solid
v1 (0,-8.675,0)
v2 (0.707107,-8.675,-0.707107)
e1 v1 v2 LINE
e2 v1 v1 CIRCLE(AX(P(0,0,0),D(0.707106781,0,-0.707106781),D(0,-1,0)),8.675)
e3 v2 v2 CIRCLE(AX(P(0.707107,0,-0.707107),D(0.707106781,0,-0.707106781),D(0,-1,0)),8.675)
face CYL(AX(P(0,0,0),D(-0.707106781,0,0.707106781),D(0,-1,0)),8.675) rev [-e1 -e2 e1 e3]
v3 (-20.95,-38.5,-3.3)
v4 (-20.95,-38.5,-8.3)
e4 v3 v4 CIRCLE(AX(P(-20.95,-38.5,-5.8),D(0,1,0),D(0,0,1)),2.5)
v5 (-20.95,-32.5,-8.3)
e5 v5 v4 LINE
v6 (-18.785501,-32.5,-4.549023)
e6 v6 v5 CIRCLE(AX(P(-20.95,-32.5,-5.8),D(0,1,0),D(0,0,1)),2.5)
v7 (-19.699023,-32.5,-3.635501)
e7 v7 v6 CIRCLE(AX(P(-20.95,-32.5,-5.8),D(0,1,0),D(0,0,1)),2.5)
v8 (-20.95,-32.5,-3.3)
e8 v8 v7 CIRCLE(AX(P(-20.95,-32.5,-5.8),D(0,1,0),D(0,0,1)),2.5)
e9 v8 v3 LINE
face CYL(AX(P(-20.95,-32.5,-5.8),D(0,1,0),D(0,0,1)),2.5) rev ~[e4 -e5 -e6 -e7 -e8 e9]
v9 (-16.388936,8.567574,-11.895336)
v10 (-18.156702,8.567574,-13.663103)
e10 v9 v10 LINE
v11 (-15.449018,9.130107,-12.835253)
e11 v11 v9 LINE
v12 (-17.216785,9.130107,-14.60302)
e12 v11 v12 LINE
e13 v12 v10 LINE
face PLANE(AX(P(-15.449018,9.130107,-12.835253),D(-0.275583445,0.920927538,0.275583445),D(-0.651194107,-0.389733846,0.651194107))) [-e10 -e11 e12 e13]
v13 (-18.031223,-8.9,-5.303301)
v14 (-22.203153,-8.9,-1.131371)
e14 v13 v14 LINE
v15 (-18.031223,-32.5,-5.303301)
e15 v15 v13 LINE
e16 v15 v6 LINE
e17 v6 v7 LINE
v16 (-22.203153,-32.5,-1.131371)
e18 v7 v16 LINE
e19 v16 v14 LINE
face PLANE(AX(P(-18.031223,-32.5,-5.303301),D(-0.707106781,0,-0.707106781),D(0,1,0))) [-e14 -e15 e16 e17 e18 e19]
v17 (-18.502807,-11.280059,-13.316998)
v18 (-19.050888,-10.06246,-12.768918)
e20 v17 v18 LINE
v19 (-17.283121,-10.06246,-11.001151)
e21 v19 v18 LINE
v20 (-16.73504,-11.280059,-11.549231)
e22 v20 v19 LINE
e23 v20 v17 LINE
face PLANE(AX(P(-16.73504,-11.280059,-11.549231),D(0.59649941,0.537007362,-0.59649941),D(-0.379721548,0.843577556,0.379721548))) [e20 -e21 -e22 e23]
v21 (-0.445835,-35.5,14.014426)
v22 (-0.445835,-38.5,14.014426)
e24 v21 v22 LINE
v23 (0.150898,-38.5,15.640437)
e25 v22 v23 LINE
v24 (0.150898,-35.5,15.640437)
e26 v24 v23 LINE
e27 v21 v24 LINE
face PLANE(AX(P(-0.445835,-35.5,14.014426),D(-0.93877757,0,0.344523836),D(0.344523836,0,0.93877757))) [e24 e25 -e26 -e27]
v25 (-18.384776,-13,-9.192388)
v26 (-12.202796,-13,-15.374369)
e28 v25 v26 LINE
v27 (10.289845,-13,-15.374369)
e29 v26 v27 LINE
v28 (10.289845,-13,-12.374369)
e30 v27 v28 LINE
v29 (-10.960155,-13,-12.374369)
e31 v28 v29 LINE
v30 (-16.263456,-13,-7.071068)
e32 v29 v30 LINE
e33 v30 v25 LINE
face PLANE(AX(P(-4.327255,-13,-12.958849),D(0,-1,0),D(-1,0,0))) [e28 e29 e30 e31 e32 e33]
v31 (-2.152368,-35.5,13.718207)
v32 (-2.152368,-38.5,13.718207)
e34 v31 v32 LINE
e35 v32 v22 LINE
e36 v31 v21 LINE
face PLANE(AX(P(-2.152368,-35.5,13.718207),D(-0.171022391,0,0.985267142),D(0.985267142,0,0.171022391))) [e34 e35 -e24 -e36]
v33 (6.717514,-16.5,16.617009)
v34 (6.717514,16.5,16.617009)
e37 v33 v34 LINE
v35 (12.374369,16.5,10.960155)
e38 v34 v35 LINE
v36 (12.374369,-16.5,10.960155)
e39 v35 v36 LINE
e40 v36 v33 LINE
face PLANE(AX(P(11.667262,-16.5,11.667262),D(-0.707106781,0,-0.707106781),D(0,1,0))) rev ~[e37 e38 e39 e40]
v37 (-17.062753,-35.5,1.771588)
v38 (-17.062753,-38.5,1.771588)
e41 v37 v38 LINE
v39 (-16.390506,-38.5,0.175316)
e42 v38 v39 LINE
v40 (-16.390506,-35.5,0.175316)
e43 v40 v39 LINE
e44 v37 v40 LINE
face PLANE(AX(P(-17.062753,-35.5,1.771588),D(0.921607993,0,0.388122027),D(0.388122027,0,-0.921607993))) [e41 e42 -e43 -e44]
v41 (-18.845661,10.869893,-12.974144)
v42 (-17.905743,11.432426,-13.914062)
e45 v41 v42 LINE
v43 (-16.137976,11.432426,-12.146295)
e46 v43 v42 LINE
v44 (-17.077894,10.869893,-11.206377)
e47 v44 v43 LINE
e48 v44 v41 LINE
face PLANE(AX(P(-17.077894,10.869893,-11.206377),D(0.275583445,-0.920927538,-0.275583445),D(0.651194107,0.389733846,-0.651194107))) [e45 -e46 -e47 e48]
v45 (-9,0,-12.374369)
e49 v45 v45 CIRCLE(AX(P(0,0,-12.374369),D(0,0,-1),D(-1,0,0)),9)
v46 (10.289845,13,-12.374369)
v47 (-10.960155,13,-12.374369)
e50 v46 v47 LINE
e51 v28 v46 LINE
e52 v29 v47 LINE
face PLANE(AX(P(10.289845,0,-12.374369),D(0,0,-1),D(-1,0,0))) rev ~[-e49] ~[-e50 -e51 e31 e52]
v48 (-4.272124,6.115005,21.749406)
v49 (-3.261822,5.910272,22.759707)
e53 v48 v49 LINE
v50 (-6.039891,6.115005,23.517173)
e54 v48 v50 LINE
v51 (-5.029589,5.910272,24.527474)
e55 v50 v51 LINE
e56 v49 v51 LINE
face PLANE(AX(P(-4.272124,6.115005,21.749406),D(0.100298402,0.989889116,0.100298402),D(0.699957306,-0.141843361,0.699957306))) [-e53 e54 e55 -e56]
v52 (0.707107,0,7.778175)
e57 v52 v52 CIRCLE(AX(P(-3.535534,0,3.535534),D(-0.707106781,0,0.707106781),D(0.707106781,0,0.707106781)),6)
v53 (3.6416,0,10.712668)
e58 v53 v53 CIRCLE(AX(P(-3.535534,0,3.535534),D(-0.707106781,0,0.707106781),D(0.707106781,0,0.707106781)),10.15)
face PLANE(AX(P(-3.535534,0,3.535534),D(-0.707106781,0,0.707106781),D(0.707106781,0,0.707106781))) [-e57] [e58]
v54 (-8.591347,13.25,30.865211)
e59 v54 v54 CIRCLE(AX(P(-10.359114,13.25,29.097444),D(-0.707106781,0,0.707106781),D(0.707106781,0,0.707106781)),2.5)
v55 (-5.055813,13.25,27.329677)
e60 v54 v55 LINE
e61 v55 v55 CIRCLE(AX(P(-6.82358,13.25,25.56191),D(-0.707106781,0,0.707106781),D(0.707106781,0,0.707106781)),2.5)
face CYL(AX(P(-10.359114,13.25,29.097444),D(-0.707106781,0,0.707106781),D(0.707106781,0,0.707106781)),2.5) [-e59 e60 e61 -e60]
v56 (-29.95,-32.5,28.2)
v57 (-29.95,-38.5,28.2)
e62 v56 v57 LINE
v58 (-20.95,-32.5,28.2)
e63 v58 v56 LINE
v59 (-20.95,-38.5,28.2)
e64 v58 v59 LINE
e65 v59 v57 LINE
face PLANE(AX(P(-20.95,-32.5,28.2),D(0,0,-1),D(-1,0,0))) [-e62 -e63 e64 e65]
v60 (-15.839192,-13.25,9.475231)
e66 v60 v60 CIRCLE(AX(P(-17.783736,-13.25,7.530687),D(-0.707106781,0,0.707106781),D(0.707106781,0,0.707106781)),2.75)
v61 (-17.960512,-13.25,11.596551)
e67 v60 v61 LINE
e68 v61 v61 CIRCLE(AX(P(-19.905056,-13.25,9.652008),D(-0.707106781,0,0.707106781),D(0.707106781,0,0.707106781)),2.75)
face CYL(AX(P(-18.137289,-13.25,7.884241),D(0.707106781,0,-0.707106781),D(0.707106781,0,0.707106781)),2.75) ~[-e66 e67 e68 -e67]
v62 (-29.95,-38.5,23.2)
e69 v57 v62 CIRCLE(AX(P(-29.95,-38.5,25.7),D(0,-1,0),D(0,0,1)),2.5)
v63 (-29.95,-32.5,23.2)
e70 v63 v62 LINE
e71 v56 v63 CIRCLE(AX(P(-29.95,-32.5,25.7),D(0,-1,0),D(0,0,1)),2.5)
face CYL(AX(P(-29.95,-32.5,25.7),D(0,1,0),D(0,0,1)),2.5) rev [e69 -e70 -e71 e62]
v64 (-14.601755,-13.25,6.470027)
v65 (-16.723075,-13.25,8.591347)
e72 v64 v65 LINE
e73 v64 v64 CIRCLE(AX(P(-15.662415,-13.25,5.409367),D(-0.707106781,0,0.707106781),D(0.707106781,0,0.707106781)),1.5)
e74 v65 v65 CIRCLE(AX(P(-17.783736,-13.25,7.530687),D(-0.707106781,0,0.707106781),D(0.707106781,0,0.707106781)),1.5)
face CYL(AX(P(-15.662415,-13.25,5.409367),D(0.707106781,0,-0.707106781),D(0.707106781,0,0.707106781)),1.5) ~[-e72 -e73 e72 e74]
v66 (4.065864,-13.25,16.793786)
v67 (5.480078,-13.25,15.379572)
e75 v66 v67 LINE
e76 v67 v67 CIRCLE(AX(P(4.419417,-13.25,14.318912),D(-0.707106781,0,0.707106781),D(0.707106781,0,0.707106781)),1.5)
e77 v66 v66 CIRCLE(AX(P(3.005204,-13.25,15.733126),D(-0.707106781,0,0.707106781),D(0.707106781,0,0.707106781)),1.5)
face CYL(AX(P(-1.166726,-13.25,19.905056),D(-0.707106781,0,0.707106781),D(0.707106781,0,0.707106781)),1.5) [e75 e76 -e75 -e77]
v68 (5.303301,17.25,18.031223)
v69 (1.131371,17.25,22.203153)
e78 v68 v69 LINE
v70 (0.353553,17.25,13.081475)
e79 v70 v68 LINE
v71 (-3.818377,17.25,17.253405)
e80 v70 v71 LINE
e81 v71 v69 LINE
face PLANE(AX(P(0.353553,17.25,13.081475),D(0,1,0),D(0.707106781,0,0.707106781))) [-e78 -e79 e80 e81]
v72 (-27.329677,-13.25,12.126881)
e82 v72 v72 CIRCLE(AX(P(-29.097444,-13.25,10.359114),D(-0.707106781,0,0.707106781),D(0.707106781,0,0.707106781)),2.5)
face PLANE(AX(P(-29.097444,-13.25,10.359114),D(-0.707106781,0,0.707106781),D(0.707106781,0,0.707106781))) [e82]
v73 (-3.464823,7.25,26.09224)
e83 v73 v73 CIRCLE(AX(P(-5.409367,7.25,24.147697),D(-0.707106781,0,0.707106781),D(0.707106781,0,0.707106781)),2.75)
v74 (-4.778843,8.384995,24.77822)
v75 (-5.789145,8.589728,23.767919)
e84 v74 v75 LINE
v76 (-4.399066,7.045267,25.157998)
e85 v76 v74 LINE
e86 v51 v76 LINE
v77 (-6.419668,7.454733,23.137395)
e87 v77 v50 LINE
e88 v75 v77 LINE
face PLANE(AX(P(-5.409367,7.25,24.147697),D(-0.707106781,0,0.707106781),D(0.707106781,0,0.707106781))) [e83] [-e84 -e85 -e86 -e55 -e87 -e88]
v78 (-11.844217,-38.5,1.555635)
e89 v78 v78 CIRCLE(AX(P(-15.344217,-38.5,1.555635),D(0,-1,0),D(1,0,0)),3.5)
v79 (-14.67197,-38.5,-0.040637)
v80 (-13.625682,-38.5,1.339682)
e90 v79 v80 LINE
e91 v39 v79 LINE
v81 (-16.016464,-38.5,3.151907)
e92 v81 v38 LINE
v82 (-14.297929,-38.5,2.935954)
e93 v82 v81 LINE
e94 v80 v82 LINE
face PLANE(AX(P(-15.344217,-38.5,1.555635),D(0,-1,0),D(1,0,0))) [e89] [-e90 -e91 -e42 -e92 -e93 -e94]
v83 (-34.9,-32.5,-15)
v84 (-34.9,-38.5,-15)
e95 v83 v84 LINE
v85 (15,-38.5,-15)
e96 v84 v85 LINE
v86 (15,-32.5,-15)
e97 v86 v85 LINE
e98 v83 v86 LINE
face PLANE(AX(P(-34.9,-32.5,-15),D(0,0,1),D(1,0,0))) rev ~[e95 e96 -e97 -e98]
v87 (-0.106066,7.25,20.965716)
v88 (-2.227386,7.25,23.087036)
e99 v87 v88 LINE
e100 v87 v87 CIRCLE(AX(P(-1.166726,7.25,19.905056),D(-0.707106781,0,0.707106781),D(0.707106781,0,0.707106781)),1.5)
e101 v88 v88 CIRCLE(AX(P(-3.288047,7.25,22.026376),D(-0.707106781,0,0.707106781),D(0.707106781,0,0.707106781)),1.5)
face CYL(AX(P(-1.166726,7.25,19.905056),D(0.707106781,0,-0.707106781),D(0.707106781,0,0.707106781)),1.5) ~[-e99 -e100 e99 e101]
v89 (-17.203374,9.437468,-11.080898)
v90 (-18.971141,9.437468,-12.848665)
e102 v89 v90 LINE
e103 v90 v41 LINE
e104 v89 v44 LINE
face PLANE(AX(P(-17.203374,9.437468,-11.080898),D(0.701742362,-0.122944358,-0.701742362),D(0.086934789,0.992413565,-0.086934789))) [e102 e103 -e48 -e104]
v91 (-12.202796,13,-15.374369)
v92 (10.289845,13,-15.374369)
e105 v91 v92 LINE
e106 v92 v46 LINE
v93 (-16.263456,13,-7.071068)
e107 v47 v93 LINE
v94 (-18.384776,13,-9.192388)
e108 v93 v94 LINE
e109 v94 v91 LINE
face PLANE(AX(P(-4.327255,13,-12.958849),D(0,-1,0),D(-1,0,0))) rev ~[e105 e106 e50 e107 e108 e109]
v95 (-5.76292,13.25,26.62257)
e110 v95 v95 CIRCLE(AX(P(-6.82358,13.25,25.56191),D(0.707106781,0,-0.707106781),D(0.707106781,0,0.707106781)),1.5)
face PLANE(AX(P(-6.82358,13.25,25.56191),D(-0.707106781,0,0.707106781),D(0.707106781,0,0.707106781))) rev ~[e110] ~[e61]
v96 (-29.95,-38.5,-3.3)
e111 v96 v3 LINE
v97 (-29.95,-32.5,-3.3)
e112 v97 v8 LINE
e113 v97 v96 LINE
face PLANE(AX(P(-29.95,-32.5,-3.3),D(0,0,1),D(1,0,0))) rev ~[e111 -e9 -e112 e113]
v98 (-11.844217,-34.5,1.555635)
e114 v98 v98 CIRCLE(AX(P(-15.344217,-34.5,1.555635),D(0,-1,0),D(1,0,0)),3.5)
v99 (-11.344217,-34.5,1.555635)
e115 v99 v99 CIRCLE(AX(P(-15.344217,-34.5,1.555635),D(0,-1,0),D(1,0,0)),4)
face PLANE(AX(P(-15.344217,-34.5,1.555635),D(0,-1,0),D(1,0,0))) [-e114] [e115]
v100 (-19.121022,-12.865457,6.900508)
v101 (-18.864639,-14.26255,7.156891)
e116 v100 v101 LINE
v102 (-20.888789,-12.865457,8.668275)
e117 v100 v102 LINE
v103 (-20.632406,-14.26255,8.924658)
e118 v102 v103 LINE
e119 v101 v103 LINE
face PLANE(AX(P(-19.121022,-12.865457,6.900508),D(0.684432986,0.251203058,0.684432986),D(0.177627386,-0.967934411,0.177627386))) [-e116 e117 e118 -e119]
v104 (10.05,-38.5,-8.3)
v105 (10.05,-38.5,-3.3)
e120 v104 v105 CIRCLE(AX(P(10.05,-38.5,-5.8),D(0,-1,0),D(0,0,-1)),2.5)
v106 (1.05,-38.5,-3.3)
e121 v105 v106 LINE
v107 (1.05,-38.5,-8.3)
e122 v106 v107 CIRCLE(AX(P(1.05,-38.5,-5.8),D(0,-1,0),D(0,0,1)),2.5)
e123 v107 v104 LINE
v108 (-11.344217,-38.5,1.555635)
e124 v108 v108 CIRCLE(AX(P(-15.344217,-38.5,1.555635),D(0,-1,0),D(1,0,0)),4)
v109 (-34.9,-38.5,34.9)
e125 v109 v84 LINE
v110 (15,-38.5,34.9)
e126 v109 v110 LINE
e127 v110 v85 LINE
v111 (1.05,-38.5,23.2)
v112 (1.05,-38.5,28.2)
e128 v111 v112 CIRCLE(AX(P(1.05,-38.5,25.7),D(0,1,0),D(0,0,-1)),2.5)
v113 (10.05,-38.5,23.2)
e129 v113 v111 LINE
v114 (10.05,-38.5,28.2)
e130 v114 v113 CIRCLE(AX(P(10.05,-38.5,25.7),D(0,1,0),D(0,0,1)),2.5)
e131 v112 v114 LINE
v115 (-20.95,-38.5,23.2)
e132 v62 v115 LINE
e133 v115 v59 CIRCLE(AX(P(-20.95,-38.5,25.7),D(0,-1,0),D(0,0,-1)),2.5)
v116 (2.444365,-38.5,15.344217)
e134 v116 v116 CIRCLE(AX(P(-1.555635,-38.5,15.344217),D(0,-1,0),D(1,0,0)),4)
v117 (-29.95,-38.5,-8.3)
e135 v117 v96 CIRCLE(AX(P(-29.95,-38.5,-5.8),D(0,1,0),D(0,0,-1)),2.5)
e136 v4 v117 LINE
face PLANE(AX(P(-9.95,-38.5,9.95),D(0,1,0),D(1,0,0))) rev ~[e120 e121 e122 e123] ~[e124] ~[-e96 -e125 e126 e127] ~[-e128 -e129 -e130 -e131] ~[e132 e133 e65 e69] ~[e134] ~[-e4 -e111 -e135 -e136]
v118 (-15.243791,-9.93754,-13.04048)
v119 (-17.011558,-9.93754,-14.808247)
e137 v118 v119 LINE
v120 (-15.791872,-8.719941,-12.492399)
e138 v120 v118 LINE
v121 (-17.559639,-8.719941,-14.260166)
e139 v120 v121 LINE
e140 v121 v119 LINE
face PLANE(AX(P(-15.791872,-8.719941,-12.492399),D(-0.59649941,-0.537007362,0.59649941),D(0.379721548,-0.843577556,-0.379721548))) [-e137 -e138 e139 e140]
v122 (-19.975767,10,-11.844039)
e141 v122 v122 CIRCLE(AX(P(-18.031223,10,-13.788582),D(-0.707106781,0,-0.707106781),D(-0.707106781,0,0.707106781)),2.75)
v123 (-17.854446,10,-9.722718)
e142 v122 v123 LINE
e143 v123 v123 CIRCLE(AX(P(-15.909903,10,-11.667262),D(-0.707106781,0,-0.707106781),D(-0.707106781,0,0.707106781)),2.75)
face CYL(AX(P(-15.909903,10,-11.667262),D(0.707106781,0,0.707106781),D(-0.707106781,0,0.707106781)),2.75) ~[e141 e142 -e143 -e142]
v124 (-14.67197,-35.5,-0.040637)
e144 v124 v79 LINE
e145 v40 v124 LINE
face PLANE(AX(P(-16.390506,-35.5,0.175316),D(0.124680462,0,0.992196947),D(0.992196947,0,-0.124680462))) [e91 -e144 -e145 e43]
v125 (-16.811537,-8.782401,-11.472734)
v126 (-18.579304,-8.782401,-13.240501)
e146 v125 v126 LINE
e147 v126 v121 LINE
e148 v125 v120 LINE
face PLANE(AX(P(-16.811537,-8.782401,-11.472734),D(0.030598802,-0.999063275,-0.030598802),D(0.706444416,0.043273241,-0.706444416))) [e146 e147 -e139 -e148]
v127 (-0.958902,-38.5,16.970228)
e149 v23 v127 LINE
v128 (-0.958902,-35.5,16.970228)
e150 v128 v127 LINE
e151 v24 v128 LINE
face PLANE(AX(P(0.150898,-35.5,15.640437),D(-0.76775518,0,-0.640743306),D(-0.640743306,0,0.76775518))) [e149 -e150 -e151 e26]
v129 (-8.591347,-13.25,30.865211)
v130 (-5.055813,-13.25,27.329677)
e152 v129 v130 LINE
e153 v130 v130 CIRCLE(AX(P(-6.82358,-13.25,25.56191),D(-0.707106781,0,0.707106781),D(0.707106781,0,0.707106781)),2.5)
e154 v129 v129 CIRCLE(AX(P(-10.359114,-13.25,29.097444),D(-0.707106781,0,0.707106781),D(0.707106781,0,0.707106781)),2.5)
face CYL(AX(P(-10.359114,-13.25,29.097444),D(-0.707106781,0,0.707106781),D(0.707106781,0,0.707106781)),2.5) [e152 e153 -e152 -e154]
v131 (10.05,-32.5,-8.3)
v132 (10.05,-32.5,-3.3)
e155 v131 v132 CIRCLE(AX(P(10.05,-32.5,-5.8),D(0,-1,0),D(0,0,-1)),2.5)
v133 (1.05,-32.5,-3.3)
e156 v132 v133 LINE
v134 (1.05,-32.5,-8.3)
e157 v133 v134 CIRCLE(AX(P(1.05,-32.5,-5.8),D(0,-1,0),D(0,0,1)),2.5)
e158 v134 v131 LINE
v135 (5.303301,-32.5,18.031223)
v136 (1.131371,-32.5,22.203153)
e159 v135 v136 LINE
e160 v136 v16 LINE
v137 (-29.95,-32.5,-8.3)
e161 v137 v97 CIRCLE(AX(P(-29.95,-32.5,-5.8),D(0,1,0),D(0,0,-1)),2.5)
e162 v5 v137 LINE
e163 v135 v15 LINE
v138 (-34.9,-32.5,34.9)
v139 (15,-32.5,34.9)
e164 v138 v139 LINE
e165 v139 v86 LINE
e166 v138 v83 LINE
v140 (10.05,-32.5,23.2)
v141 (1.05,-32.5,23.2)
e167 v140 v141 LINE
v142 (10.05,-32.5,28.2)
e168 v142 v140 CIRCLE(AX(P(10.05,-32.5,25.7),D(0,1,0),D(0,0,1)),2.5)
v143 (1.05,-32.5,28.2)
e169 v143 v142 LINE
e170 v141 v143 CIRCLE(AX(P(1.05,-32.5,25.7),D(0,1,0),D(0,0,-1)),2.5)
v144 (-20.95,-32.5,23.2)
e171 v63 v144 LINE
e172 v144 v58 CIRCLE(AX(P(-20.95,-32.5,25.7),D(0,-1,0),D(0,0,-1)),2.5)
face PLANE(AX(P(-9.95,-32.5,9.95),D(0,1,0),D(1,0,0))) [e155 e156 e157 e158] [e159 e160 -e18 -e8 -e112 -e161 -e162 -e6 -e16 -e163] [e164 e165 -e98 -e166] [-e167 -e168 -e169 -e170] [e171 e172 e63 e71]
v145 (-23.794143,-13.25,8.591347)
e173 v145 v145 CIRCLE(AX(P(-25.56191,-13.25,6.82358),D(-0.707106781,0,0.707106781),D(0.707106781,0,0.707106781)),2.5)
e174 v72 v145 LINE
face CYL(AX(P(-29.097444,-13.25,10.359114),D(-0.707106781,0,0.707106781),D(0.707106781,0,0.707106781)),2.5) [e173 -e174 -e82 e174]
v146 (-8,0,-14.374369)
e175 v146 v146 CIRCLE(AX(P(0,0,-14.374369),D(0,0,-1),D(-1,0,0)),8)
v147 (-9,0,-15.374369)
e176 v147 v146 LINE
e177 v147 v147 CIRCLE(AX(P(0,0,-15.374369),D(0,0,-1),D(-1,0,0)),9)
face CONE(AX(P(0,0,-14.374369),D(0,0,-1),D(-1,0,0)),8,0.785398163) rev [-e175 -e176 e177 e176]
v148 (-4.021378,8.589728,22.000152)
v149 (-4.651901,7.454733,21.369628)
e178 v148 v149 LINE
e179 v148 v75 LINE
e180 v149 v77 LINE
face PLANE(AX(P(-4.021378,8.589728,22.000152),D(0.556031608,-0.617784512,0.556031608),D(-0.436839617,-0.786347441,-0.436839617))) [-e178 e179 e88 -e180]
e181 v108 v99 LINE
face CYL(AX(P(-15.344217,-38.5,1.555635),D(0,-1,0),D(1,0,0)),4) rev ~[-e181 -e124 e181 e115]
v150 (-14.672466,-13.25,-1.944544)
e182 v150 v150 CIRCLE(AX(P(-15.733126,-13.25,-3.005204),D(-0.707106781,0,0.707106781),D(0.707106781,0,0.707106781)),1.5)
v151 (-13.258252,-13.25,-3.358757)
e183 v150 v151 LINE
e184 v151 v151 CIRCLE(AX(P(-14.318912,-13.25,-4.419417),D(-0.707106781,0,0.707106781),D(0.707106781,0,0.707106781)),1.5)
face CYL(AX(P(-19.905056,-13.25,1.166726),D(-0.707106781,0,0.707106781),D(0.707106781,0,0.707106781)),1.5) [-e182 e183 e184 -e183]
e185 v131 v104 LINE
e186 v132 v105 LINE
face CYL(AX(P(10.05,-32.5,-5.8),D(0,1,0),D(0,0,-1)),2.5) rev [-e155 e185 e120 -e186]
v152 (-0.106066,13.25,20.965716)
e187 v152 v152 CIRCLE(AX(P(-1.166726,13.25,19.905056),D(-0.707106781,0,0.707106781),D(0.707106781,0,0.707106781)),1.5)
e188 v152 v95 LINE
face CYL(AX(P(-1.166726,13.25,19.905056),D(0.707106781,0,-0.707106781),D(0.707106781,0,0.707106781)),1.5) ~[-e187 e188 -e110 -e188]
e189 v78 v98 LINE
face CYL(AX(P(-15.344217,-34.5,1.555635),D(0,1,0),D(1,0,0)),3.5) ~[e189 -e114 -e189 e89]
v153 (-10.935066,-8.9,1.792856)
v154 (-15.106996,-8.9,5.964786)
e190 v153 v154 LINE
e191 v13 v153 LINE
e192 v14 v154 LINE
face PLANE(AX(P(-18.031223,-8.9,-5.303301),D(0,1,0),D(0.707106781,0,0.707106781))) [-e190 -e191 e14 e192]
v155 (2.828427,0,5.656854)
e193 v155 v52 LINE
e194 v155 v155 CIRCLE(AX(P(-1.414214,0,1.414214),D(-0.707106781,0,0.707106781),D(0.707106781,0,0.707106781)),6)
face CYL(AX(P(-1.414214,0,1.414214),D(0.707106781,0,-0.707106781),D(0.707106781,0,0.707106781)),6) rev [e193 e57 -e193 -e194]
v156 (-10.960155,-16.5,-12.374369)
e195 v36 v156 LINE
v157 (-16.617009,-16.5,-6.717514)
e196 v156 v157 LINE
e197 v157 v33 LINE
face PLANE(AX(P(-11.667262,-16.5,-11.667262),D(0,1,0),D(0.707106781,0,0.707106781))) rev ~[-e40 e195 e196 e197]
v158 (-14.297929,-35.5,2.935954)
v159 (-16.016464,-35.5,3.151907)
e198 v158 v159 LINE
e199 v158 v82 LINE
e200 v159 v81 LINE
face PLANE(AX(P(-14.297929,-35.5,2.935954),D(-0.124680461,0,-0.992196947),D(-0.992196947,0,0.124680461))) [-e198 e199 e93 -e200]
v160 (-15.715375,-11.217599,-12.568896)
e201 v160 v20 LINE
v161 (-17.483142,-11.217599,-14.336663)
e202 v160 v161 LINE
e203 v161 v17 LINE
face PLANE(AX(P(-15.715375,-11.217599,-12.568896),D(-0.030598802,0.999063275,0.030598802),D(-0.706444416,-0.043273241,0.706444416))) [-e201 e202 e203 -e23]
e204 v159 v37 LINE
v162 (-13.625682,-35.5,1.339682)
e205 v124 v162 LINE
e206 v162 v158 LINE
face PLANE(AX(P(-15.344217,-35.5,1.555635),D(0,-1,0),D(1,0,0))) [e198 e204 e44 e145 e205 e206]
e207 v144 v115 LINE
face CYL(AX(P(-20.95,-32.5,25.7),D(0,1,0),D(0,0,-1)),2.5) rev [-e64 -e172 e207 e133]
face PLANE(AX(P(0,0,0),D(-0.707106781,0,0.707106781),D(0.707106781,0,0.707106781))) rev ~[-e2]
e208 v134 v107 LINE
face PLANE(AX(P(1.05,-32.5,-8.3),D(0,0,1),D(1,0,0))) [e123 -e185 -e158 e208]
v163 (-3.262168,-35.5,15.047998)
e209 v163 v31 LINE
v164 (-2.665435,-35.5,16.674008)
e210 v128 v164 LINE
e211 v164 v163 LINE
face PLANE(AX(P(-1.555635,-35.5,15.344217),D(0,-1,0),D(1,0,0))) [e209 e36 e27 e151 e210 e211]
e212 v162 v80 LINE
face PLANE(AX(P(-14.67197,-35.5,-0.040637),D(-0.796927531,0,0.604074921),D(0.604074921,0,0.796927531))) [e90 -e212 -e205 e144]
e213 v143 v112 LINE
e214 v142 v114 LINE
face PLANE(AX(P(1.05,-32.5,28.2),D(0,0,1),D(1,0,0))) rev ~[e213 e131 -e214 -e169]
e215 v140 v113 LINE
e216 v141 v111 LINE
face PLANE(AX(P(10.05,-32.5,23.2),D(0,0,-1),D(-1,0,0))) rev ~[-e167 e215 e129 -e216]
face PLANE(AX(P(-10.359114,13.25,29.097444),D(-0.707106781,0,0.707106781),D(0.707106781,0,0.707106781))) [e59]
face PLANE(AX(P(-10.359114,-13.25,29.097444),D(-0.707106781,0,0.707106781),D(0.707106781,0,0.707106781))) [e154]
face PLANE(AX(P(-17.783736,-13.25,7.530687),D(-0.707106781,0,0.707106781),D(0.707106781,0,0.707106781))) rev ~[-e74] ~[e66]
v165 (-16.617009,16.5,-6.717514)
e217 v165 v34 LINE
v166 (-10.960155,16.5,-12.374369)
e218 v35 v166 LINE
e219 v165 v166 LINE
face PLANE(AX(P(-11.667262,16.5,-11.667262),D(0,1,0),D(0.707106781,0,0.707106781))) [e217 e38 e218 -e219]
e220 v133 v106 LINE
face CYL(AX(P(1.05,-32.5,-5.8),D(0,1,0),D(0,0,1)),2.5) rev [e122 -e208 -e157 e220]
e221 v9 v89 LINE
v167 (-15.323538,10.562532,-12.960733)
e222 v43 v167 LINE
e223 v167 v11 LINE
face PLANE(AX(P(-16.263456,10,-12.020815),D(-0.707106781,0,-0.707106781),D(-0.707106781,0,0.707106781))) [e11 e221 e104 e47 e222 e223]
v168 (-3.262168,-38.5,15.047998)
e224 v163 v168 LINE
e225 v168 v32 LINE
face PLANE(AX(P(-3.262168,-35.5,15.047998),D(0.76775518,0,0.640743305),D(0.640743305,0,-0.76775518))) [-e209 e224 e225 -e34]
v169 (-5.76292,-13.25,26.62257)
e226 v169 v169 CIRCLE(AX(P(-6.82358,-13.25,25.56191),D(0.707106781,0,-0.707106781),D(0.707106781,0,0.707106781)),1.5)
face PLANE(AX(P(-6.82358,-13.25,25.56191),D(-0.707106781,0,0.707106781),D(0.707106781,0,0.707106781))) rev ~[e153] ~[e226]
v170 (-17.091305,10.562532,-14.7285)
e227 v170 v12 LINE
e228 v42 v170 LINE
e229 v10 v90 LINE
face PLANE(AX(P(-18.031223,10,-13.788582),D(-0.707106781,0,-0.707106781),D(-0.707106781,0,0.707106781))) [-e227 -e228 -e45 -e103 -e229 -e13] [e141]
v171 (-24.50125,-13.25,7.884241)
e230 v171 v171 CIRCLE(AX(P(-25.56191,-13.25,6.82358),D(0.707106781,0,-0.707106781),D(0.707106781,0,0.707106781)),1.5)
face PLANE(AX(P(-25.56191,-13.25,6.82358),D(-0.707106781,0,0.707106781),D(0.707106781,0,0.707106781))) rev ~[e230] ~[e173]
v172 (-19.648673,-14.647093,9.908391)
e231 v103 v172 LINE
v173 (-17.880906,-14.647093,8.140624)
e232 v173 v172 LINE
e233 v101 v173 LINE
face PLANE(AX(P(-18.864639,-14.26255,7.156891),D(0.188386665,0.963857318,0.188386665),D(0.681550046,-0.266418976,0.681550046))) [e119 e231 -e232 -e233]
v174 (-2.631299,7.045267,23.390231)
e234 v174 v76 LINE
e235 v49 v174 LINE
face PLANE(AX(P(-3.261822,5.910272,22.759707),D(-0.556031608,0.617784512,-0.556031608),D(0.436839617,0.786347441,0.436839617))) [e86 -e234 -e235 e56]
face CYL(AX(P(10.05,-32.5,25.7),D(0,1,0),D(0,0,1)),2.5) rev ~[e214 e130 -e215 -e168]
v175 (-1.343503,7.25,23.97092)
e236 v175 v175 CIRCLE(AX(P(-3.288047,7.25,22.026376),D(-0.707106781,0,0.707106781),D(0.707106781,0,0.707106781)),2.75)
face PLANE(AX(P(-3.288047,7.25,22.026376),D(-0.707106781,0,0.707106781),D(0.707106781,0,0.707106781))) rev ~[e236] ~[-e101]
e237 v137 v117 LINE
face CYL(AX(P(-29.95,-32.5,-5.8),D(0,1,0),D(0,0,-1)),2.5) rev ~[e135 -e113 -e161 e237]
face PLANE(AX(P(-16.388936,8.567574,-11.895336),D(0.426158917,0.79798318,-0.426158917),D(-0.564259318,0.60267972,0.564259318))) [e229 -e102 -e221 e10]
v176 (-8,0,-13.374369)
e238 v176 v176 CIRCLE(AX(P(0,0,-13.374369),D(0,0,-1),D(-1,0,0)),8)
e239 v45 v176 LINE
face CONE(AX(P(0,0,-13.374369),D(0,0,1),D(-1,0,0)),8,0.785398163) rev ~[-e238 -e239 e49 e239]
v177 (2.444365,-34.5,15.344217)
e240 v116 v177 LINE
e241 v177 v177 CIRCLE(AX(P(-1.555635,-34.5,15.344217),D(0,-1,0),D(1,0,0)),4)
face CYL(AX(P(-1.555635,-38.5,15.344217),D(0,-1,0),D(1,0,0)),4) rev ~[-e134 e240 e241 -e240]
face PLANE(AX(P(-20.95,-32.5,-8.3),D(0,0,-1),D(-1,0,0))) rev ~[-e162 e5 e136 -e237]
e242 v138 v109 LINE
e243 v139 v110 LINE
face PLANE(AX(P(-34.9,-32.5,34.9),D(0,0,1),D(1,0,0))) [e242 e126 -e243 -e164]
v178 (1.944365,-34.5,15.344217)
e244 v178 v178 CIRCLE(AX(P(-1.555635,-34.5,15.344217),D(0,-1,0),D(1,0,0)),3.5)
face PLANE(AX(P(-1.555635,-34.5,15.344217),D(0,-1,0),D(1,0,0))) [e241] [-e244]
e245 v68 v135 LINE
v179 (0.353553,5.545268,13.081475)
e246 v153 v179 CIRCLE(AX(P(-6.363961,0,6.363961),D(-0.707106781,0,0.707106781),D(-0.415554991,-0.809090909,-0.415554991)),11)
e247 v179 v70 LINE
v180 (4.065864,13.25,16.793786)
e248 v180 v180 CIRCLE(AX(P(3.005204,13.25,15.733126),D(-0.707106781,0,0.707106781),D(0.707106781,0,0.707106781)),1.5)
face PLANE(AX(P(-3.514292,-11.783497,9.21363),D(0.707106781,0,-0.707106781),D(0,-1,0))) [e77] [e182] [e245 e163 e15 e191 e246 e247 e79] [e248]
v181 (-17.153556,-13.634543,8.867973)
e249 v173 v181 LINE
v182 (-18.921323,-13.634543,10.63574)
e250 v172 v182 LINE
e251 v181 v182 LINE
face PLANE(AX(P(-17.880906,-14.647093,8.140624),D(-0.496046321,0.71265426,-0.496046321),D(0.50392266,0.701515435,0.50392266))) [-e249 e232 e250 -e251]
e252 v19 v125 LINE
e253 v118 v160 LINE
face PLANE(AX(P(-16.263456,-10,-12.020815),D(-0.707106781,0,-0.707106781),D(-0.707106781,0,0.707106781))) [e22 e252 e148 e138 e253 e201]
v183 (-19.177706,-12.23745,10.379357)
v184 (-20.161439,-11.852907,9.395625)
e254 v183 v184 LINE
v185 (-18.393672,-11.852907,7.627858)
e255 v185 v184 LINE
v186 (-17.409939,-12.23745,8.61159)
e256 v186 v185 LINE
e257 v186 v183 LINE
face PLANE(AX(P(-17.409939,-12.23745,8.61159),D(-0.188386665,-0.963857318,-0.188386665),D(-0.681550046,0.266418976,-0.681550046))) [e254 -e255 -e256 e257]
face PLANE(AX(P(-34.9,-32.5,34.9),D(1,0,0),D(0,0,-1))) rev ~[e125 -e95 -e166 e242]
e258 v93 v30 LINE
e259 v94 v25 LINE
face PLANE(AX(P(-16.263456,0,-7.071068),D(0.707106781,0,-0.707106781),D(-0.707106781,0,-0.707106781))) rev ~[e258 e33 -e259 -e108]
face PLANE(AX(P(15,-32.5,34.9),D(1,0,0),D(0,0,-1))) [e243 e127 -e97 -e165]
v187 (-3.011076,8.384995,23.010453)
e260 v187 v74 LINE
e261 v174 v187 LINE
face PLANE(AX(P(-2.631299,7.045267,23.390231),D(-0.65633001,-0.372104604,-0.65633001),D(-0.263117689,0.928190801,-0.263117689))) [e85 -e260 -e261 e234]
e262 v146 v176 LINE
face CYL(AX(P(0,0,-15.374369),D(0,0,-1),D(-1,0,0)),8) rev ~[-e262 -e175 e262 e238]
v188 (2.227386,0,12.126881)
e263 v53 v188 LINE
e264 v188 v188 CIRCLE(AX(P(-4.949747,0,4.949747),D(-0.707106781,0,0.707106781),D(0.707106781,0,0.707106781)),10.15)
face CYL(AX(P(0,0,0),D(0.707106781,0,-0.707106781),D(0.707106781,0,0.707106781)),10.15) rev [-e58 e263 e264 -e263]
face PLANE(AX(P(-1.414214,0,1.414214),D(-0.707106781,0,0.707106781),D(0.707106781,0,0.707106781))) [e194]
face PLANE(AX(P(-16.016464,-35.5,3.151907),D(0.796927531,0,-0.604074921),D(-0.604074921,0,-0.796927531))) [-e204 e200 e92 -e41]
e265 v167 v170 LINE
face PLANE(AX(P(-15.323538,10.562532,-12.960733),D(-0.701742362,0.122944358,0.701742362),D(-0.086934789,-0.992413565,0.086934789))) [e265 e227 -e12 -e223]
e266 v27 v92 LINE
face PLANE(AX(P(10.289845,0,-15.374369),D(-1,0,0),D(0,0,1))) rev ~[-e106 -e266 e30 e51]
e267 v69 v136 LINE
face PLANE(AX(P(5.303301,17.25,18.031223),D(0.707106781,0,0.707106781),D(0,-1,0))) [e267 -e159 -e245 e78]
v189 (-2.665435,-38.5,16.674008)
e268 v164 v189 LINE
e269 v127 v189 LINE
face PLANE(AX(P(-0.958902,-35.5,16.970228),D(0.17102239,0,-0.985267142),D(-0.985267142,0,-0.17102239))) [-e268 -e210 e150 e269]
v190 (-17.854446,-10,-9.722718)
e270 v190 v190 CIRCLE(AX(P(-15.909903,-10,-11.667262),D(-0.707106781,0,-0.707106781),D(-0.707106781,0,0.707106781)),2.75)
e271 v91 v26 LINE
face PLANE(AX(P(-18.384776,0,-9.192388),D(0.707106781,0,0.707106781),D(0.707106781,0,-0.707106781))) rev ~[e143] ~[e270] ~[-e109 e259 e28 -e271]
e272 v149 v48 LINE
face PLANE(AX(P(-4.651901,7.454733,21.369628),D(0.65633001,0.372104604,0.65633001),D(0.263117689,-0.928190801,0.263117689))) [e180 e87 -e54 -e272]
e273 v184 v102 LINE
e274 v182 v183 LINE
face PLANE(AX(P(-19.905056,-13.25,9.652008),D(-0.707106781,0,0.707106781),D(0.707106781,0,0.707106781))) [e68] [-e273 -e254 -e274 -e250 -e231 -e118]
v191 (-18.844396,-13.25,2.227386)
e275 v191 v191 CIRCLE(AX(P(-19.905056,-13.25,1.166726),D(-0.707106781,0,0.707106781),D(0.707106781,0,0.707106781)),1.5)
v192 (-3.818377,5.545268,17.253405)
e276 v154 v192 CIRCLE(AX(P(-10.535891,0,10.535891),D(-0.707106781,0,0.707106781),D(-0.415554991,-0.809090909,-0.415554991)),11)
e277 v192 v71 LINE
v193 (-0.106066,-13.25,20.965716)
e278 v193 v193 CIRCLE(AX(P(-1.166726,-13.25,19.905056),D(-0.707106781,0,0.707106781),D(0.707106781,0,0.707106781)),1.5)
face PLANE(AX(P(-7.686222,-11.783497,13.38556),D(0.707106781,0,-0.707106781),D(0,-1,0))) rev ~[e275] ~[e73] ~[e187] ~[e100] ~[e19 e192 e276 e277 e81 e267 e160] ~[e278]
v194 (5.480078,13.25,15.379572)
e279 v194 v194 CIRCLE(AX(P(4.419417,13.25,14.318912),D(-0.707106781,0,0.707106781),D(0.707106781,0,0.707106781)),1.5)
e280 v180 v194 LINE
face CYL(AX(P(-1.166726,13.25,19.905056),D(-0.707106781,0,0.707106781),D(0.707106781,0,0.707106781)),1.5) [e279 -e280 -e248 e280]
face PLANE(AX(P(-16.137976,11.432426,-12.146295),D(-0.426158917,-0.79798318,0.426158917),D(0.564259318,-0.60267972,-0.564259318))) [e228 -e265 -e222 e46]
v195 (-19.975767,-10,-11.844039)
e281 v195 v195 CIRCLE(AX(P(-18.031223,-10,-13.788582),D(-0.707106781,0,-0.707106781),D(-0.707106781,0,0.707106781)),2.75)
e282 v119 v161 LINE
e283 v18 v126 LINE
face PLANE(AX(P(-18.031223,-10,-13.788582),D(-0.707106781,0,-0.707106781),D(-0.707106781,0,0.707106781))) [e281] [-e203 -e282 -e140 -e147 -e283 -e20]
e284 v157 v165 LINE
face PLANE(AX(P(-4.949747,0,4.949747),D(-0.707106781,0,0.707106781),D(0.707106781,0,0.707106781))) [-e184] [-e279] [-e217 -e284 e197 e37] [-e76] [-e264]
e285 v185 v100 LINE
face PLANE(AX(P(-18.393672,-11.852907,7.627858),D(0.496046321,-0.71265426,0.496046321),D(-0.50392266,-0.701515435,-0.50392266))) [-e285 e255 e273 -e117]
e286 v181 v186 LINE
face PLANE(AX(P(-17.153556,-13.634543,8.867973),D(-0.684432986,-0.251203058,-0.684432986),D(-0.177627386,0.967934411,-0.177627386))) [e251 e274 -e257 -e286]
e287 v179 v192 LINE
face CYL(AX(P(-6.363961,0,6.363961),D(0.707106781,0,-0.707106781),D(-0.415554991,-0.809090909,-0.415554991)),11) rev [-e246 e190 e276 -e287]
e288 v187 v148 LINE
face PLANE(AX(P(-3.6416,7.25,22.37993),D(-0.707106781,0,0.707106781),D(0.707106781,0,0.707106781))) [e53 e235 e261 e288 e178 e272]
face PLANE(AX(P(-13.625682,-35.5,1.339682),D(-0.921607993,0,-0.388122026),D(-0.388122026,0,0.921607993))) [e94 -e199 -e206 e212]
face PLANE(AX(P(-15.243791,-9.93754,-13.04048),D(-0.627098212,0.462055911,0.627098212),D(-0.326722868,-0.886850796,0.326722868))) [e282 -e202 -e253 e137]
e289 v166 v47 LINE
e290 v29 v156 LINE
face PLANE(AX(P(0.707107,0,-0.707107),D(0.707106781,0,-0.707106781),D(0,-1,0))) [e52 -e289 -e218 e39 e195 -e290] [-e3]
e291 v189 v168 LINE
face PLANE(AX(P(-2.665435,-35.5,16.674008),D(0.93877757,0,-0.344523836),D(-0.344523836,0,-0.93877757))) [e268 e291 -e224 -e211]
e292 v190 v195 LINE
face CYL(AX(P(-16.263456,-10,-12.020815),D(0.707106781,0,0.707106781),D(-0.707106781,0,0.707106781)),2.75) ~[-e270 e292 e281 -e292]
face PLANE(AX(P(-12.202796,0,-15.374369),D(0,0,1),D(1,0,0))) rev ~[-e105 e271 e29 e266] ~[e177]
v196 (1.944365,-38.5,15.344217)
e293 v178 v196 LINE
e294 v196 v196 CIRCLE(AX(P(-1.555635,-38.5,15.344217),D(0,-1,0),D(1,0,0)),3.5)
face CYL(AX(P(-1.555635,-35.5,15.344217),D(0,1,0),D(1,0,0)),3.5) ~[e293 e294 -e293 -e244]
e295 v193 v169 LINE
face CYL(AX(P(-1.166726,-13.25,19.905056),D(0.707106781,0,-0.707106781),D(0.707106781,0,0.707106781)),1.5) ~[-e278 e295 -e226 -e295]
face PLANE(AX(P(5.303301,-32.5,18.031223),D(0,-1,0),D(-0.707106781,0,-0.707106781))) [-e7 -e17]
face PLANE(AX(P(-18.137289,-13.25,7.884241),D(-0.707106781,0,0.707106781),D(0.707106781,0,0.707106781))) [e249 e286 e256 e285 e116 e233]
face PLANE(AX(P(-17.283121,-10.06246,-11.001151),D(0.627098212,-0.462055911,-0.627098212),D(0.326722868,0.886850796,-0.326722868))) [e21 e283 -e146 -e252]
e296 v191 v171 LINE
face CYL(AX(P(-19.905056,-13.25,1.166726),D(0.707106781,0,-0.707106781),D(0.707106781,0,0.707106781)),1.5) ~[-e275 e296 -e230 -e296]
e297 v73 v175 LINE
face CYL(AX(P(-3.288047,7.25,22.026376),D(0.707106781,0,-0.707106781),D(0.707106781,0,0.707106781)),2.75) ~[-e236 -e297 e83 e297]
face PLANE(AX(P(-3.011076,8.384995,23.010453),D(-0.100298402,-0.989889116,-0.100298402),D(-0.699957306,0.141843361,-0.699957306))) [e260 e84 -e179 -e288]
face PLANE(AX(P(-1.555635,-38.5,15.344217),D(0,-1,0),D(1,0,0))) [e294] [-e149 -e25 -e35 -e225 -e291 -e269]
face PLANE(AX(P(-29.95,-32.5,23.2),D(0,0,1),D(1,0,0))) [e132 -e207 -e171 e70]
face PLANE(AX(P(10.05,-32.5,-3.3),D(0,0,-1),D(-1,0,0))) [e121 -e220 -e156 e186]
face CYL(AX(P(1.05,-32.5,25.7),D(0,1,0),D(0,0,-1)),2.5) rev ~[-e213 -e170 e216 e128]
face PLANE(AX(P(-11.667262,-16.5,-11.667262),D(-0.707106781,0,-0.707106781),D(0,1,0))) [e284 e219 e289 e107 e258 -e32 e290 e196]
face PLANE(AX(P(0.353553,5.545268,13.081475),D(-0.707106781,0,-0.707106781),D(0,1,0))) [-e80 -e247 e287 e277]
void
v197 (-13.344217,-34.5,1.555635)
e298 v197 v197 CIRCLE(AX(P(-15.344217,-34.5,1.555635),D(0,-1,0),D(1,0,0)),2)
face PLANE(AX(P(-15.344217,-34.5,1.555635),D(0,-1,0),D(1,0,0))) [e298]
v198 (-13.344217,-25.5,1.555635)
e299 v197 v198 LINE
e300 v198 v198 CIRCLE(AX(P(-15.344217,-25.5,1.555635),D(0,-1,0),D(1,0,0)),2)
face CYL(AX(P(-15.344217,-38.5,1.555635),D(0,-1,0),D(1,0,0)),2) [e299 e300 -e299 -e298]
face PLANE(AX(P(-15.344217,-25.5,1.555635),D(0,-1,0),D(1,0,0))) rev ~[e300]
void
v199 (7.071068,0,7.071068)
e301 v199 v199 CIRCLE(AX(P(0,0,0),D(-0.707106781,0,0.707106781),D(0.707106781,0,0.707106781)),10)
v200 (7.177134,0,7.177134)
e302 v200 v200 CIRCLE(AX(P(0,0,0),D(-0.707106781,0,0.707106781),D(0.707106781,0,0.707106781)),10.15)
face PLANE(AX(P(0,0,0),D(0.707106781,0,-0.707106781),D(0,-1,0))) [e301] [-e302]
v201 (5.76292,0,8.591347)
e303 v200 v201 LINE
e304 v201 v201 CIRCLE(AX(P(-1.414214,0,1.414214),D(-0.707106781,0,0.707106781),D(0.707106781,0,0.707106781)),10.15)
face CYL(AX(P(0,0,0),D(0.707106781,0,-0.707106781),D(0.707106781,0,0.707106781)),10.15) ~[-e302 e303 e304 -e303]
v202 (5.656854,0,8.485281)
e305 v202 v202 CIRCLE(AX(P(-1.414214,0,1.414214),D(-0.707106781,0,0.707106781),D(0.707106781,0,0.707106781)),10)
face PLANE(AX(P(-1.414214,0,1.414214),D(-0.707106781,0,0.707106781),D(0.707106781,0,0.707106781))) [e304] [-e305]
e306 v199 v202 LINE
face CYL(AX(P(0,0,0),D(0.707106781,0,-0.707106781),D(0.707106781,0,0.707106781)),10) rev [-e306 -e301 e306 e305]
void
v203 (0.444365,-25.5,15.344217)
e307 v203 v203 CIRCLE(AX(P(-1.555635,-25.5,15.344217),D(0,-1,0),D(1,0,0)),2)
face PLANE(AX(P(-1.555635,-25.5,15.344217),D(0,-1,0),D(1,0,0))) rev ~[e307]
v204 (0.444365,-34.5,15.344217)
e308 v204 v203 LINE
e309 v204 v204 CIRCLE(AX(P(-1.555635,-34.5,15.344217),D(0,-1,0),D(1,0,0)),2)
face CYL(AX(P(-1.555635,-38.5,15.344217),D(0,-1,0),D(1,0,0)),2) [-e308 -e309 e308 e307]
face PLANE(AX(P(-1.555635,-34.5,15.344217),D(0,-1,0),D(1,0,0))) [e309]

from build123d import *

# Parameters (mm, degrees)
SKETCH1_W                = 49.9
SKETCH1_H                = 49.9
BOSS_EXTRUDE1_DEPTH      = 6
BOSS_EXTRUDE2_DEPTH      = 5.9
SKETCH3_R                = 1.5
BOSS_EXTRUDE3_DEPTH      = 13
BOSS_EXTRUDE3_DEPTH_BACK = 14.9
SKETCH4_R                = 2.5
BOSS_EXTRUDE4_DEPTH      = 5
SKETCH5_R                = 1.5
BOSS_EXTRUDE5_DEPTH      = 3
SKETCH6_R                = 2.75
BOSS_EXTRUDE6_DEPTH      = 0.5
SKETCH7_R                = 2.75
BOSS_EXTRUDE7_DEPTH      = 2.5
SKETCH8_W                = 33
SKETCH8_H                = 33
SKETCH8_R                = 8.675
BOSS_EXTRUDE8_DEPTH      = 1
SKETCH9_W                = 33
SKETCH9_H                = 33
SKETCH9_R                = 10.15
BOSS_EXTRUDE9_DEPTH      = 7
SKETCH10_R               = 10
BOSS_EXTRUDE10_DEPTH     = 2
SKETCH11_R               = 10.15
SKETCH11_R_2             = 6
BOSS_EXTRUDE11_DEPTH     = 3
SKETCH12_R               = 2
CUT_EXTRUDE1_DEPTH       = 13
SKETCH13_R               = 4
CUT_EXTRUDE2_DEPTH       = 4
SKETCH14_R               = 3.5
BOSS_EXTRUDE12_DEPTH     = 1
SKETCH15_R               = 3.5
BOSS_EXTRUDE13_DEPTH     = 3
BOSS_EXTRUDE14_DEPTH     = 13
SKETCH17_R               = 8
CUT_EXTRUDE3_DEPTH       = 3
CHAMFER1_SIZE            = 1
SKETCH18_R               = 2.75
BOSS_EXTRUDE15_DEPTH     = 0.5
SKETCH19_R               = 2.75
BOSS_EXTRUDE16_DEPTH     = 2.5


with BuildPart() as part:
    # Sketch1 → Boss-Extrude1 (new body)
    with BuildSketch(Plane(origin=(0, -32.5, 0), x_dir=(1, 0, 0), z_dir=(0, 1, 0))):
        with Locations((-9.95, -9.95)):
            Rectangle(SKETCH1_W, SKETCH1_H)
        with BuildLine():
            Line((1.05, 8.3), (10.05, 8.3))
            ThreePointArc((10.05, 8.3), (12.55, 5.8), (10.05, 3.3))
            Line((10.05, 3.3), (1.05, 3.3))
            ThreePointArc((1.05, 3.3), (-1.45, 5.8), (1.05, 8.3))
        make_face(mode=Mode.SUBTRACT)
        with BuildLine():
            Line((-20.95, 8.3), (-29.95, 8.3))
            ThreePointArc((-29.95, 8.3), (-32.45, 5.8), (-29.95, 3.3))
            Line((-29.95, 3.3), (-20.95, 3.3))
            ThreePointArc((-20.95, 3.3), (-18.45, 5.8), (-20.95, 8.3))
        make_face(mode=Mode.SUBTRACT)
        with BuildLine():
            Line((-20.95, -28.2), (-29.95, -28.2))
            ThreePointArc((-29.95, -28.2), (-32.45, -25.7), (-29.95, -23.2))
            Line((-29.95, -23.2), (-20.95, -23.2))
            ThreePointArc((-20.95, -23.2), (-18.45, -25.7), (-20.95, -28.2))
        make_face(mode=Mode.SUBTRACT)
        with BuildLine():
            Line((1.05, -28.2), (10.05, -28.2))
            ThreePointArc((10.05, -28.2), (12.55, -25.7), (10.05, -23.2))
            Line((10.05, -23.2), (1.05, -23.2))
            ThreePointArc((1.05, -23.2), (-1.45, -25.7), (1.05, -28.2))
        make_face(mode=Mode.SUBTRACT)
    extrude(amount=-BOSS_EXTRUDE1_DEPTH)

    # Sketch2 → Boss-Extrude2 (add)
    with BuildSketch(Plane(origin=(-6.363961031, 0, 6.363961031), x_dir=(0, -1, 0), z_dir=(0.707106781, 0, -0.707106781))):
        with BuildLine():
            Line((-5.545268253, -9.5), (-17.25, -9.5))
            Line((-17.25, -9.5), (-17.25, -16.5))
            Line((-17.25, -16.5), (32.5, -16.5))
            Line((32.5, -16.5), (32.5, 16.5))
            Line((32.5, 16.5), (8.9, 16.5))
            Line((8.9, 16.5), (8.9, 6.464518544))
            ThreePointArc((8.9, 6.464518544), (8.156593612, -7.380378083), (-5.545268253, -9.5))
        make_face()
    extrude(amount=-BOSS_EXTRUDE2_DEPTH)

    # Sketch3 → Boss-Extrude3 (add, two sides)
    with BuildSketch(Plane(origin=(-10.53589104, 0, 10.53589104), x_dir=(0.707106781, 0, 0.707106781), z_dir=(-0.707106781, 0, 0.707106781))) as boss_extrude3_sk:
        with Locations((13.25, 13.25)):
            Circle(SKETCH3_R)
        with Locations((13.25, -13.25)):
            Circle(SKETCH3_R)
        with Locations((-13.25, -13.25)):
            Circle(SKETCH3_R)
    extrude(amount=BOSS_EXTRUDE3_DEPTH)
    extrude(boss_extrude3_sk.sketch, amount=-BOSS_EXTRUDE3_DEPTH_BACK)

    # Sketch4 → Boss-Extrude4 (add)
    with BuildSketch(Plane(origin=(-19.728279195, 0, 19.728279195), x_dir=(0.707106781, 0, 0.707106781), z_dir=(-0.707106781, 0, 0.707106781))):
        with Locations((13.25, 13.25)):
            Circle(SKETCH4_R)
        with Locations((13.25, -13.25)):
            Circle(SKETCH4_R)
        with Locations((-13.25, -13.25)):
            Circle(SKETCH4_R)
    extrude(amount=-BOSS_EXTRUDE4_DEPTH)

    # Sketch5 → Boss-Extrude5 (add)
    with BuildSketch(Plane(origin=(-10.53589104, 0, 10.53589104), x_dir=(0.707106781, 0, 0.707106781), z_dir=(-0.707106781, 0, 0.707106781))):
        with Locations((-7.25, -13.25)):
            Circle(SKETCH5_R)
        with Locations((13.25, 7.25)):
            Circle(SKETCH5_R)
    extrude(amount=BOSS_EXTRUDE5_DEPTH)

    # Sketch6 → Boss-Extrude6 (add)
    with BuildSketch(Plane(origin=(-12.657211383, 0, 12.657211383), x_dir=(0.707106781, 0, 0.707106781), z_dir=(-0.707106781, 0, 0.707106781))):
        with Locations((13.25, 7.25)):
            Circle(SKETCH6_R)
        with Locations((-7.25, -13.25)):
            Circle(SKETCH6_R)
    extrude(amount=BOSS_EXTRUDE6_DEPTH)

    # Sketch7 → Boss-Extrude7 (add)
    with BuildSketch(Plane(origin=(-13.010764774, 0, 13.010764774), x_dir=(0.707106781, 0, 0.707106781), z_dir=(-0.707106781, 0, 0.707106781))):
        with Locations((-7.25, -13.25)):
            Circle(SKETCH7_R)
        Polygon((-6.221372178, -12.237449687), (-7.612580383, -11.852907018), (-8.641208205, -12.865457332), (-8.278627822, -14.262550313), (-6.887419617, -14.647092982), (-5.858791795, -13.634542668), align=None, mode=Mode.SUBTRACT)
        with Locations((13.25, 7.25)):
            Circle(SKETCH7_R)
        Polygon((13.787086733, 5.910271978), (14.678781868, 7.045266744), (14.141695135, 8.384994766), (12.712913267, 8.589728022), (11.821218132, 7.454733256), (12.358304865, 6.115005234), align=None, mode=Mode.SUBTRACT)
    extrude(amount=BOSS_EXTRUDE7_DEPTH)

    # Sketch8 → Boss-Extrude8 (add)
    with BuildSketch(Plane(origin=(0, 0, 0), x_dir=(0, -1, 0), z_dir=(0.707106781, 0, -0.707106781))):
        Rectangle(SKETCH8_W, SKETCH8_H)
        Circle(SKETCH8_R, mode=Mode.SUBTRACT)
    extrude(amount=BOSS_EXTRUDE8_DEPTH)

    # Sketch9 → Boss-Extrude9 (add)
    with BuildSketch(Plane(origin=(0, 0, 0), x_dir=(0.707106781, 0, 0.707106781), z_dir=(-0.707106781, 0, 0.707106781))):
        Rectangle(SKETCH9_W, SKETCH9_H)
        Circle(SKETCH9_R, mode=Mode.SUBTRACT)
    extrude(amount=BOSS_EXTRUDE9_DEPTH)

    # Sketch10 → Boss-Extrude10 (add)
    with BuildSketch(Plane(origin=(0, 0, 0), x_dir=(0.707106781, 0, 0.707106781), z_dir=(-0.707106781, 0, 0.707106781))):
        Circle(SKETCH10_R)
    extrude(amount=BOSS_EXTRUDE10_DEPTH)

    # Sketch11 → Boss-Extrude11 (add)
    with BuildSketch(Plane(origin=(-1.414213562, 0, 1.414213562), x_dir=(0.707106781, 0, 0.707106781), z_dir=(-0.707106781, 0, 0.707106781))):
        Circle(SKETCH11_R)
        Circle(SKETCH11_R_2, mode=Mode.SUBTRACT)
    extrude(amount=BOSS_EXTRUDE11_DEPTH)

    # Sketch12 → Cut-Extrude1 (cut)
    with BuildSketch(Plane.XZ.offset(38.5)):
        with Locations((-15.344217152, 1.555634919)):
            Circle(SKETCH12_R)
        with Locations((-1.555634919, 15.344217152)):
            Circle(SKETCH12_R)
    extrude(amount=-CUT_EXTRUDE1_DEPTH, mode=Mode.SUBTRACT)

    # Sketch13 → Cut-Extrude2 (cut)
    with BuildSketch(Plane.XZ.offset(38.5)):
        with Locations((-15.344217152, 1.555634919)):
            Circle(SKETCH13_R)
        with Locations((-1.555634919, 15.344217152)):
            Circle(SKETCH13_R)
    extrude(amount=-CUT_EXTRUDE2_DEPTH, mode=Mode.SUBTRACT)

    # Sketch14 → Boss-Extrude12 (add)
    with BuildSketch(Plane.XZ.offset(34.5)):
        with Locations((-15.344217152, 1.555634919)):
            Circle(SKETCH14_R)
        with Locations((-1.555634919, 15.344217152)):
            Circle(SKETCH14_R)
    extrude(amount=BOSS_EXTRUDE12_DEPTH)

    # Sketch15 → Boss-Extrude13 (add)
    with BuildSketch(Plane.XZ.offset(35.5)):
        with Locations((-1.555634919, 15.344217152)):
            Circle(SKETCH15_R)
        Polygon((-2.665434879, 16.674008131), (-3.262167668, 15.047997683), (-2.152367708, 13.718206703), (-0.445834958, 14.014426173), (0.150897831, 15.640436621), (-0.958902129, 16.9702276), align=None, mode=Mode.SUBTRACT)
        with Locations((-15.344217152, 1.555634919)):
            Circle(SKETCH15_R)
        Polygon((-14.297928697, 2.935953893), (-16.016464221, 3.151906787), (-17.062752676, 1.771587813), (-16.390505606, 0.175315945), (-14.671970082, -0.04063695), (-13.625681628, 1.339682024), align=None, mode=Mode.SUBTRACT)
    extrude(amount=BOSS_EXTRUDE13_DEPTH)

    # Sketch16 → Boss-Extrude14 (add, symmetric)
    with BuildSketch(Plane(origin=(0, 0, 0), x_dir=(1, 0, 0), z_dir=(0, 1, 0))):
        Polygon((-10.960155108, 12.374368671), (-16.263455967, 7.071067812), (-18.384776311, 9.192388155), (-12.202795796, 15.374368671), (10.289844892, 15.374368671), (10.289844892, 12.374368671), align=None)
    extrude(amount=BOSS_EXTRUDE14_DEPTH, both=True)

    # Sketch17 → Cut-Extrude3 (cut)
    with BuildSketch(Plane(origin=(0, 0, -15.374368671), x_dir=(-1, 0, 0), z_dir=(0, 0, -1))):
        Circle(SKETCH17_R)
    extrude(amount=-CUT_EXTRUDE3_DEPTH, mode=Mode.SUBTRACT)

    # Chamfer1
    chamfer1_edges = [part.edges().sort_by_distance(p)[0] for p in [
        (8, 0, -12.374368671),
        (8, 0, -15.374368671),
    ]]
    chamfer(chamfer1_edges, length=CHAMFER1_SIZE)

    # Sketch18 → Boss-Extrude15 (add)
    with BuildSketch(Plane(origin=(-13.788582233, 0, -13.788582233), x_dir=(-0.707106781, 0, 0.707106781), z_dir=(-0.707106781, 0, -0.707106781))):
        with Locations((3, 10)):
            Circle(SKETCH18_R)
        with Locations((3, -10)):
            Circle(SKETCH18_R)
    extrude(amount=BOSS_EXTRUDE15_DEPTH)

    # Sketch19 → Boss-Extrude16 (add)
    with BuildSketch(Plane(origin=(-14.142135624, 0, -14.142135624), x_dir=(-0.707106781, 0, 0.707106781), z_dir=(-0.707106781, 0, -0.707106781))):
        with Locations((3, -10)):
            Circle(SKETCH19_R)
        Polygon((3.666920263, -11.280058865), (4.442023626, -10.062459543), (3.775103364, -8.782400678), (2.333079737, -8.719941135), (1.557976374, -9.937540457), (2.224896636, -11.217599322), align=None, mode=Mode.SUBTRACT)
        with Locations((3, 10)):
            Circle(SKETCH19_R)
        Polygon((1.848210491, 9.130106754), (3.177454895, 8.567574402), (4.329244404, 9.437467649), (4.151789509, 10.869893246), (2.822545105, 11.432425598), (1.670755596, 10.562532351), align=None, mode=Mode.SUBTRACT)
    extrude(amount=BOSS_EXTRUDE16_DEPTH)


solid = part.part
